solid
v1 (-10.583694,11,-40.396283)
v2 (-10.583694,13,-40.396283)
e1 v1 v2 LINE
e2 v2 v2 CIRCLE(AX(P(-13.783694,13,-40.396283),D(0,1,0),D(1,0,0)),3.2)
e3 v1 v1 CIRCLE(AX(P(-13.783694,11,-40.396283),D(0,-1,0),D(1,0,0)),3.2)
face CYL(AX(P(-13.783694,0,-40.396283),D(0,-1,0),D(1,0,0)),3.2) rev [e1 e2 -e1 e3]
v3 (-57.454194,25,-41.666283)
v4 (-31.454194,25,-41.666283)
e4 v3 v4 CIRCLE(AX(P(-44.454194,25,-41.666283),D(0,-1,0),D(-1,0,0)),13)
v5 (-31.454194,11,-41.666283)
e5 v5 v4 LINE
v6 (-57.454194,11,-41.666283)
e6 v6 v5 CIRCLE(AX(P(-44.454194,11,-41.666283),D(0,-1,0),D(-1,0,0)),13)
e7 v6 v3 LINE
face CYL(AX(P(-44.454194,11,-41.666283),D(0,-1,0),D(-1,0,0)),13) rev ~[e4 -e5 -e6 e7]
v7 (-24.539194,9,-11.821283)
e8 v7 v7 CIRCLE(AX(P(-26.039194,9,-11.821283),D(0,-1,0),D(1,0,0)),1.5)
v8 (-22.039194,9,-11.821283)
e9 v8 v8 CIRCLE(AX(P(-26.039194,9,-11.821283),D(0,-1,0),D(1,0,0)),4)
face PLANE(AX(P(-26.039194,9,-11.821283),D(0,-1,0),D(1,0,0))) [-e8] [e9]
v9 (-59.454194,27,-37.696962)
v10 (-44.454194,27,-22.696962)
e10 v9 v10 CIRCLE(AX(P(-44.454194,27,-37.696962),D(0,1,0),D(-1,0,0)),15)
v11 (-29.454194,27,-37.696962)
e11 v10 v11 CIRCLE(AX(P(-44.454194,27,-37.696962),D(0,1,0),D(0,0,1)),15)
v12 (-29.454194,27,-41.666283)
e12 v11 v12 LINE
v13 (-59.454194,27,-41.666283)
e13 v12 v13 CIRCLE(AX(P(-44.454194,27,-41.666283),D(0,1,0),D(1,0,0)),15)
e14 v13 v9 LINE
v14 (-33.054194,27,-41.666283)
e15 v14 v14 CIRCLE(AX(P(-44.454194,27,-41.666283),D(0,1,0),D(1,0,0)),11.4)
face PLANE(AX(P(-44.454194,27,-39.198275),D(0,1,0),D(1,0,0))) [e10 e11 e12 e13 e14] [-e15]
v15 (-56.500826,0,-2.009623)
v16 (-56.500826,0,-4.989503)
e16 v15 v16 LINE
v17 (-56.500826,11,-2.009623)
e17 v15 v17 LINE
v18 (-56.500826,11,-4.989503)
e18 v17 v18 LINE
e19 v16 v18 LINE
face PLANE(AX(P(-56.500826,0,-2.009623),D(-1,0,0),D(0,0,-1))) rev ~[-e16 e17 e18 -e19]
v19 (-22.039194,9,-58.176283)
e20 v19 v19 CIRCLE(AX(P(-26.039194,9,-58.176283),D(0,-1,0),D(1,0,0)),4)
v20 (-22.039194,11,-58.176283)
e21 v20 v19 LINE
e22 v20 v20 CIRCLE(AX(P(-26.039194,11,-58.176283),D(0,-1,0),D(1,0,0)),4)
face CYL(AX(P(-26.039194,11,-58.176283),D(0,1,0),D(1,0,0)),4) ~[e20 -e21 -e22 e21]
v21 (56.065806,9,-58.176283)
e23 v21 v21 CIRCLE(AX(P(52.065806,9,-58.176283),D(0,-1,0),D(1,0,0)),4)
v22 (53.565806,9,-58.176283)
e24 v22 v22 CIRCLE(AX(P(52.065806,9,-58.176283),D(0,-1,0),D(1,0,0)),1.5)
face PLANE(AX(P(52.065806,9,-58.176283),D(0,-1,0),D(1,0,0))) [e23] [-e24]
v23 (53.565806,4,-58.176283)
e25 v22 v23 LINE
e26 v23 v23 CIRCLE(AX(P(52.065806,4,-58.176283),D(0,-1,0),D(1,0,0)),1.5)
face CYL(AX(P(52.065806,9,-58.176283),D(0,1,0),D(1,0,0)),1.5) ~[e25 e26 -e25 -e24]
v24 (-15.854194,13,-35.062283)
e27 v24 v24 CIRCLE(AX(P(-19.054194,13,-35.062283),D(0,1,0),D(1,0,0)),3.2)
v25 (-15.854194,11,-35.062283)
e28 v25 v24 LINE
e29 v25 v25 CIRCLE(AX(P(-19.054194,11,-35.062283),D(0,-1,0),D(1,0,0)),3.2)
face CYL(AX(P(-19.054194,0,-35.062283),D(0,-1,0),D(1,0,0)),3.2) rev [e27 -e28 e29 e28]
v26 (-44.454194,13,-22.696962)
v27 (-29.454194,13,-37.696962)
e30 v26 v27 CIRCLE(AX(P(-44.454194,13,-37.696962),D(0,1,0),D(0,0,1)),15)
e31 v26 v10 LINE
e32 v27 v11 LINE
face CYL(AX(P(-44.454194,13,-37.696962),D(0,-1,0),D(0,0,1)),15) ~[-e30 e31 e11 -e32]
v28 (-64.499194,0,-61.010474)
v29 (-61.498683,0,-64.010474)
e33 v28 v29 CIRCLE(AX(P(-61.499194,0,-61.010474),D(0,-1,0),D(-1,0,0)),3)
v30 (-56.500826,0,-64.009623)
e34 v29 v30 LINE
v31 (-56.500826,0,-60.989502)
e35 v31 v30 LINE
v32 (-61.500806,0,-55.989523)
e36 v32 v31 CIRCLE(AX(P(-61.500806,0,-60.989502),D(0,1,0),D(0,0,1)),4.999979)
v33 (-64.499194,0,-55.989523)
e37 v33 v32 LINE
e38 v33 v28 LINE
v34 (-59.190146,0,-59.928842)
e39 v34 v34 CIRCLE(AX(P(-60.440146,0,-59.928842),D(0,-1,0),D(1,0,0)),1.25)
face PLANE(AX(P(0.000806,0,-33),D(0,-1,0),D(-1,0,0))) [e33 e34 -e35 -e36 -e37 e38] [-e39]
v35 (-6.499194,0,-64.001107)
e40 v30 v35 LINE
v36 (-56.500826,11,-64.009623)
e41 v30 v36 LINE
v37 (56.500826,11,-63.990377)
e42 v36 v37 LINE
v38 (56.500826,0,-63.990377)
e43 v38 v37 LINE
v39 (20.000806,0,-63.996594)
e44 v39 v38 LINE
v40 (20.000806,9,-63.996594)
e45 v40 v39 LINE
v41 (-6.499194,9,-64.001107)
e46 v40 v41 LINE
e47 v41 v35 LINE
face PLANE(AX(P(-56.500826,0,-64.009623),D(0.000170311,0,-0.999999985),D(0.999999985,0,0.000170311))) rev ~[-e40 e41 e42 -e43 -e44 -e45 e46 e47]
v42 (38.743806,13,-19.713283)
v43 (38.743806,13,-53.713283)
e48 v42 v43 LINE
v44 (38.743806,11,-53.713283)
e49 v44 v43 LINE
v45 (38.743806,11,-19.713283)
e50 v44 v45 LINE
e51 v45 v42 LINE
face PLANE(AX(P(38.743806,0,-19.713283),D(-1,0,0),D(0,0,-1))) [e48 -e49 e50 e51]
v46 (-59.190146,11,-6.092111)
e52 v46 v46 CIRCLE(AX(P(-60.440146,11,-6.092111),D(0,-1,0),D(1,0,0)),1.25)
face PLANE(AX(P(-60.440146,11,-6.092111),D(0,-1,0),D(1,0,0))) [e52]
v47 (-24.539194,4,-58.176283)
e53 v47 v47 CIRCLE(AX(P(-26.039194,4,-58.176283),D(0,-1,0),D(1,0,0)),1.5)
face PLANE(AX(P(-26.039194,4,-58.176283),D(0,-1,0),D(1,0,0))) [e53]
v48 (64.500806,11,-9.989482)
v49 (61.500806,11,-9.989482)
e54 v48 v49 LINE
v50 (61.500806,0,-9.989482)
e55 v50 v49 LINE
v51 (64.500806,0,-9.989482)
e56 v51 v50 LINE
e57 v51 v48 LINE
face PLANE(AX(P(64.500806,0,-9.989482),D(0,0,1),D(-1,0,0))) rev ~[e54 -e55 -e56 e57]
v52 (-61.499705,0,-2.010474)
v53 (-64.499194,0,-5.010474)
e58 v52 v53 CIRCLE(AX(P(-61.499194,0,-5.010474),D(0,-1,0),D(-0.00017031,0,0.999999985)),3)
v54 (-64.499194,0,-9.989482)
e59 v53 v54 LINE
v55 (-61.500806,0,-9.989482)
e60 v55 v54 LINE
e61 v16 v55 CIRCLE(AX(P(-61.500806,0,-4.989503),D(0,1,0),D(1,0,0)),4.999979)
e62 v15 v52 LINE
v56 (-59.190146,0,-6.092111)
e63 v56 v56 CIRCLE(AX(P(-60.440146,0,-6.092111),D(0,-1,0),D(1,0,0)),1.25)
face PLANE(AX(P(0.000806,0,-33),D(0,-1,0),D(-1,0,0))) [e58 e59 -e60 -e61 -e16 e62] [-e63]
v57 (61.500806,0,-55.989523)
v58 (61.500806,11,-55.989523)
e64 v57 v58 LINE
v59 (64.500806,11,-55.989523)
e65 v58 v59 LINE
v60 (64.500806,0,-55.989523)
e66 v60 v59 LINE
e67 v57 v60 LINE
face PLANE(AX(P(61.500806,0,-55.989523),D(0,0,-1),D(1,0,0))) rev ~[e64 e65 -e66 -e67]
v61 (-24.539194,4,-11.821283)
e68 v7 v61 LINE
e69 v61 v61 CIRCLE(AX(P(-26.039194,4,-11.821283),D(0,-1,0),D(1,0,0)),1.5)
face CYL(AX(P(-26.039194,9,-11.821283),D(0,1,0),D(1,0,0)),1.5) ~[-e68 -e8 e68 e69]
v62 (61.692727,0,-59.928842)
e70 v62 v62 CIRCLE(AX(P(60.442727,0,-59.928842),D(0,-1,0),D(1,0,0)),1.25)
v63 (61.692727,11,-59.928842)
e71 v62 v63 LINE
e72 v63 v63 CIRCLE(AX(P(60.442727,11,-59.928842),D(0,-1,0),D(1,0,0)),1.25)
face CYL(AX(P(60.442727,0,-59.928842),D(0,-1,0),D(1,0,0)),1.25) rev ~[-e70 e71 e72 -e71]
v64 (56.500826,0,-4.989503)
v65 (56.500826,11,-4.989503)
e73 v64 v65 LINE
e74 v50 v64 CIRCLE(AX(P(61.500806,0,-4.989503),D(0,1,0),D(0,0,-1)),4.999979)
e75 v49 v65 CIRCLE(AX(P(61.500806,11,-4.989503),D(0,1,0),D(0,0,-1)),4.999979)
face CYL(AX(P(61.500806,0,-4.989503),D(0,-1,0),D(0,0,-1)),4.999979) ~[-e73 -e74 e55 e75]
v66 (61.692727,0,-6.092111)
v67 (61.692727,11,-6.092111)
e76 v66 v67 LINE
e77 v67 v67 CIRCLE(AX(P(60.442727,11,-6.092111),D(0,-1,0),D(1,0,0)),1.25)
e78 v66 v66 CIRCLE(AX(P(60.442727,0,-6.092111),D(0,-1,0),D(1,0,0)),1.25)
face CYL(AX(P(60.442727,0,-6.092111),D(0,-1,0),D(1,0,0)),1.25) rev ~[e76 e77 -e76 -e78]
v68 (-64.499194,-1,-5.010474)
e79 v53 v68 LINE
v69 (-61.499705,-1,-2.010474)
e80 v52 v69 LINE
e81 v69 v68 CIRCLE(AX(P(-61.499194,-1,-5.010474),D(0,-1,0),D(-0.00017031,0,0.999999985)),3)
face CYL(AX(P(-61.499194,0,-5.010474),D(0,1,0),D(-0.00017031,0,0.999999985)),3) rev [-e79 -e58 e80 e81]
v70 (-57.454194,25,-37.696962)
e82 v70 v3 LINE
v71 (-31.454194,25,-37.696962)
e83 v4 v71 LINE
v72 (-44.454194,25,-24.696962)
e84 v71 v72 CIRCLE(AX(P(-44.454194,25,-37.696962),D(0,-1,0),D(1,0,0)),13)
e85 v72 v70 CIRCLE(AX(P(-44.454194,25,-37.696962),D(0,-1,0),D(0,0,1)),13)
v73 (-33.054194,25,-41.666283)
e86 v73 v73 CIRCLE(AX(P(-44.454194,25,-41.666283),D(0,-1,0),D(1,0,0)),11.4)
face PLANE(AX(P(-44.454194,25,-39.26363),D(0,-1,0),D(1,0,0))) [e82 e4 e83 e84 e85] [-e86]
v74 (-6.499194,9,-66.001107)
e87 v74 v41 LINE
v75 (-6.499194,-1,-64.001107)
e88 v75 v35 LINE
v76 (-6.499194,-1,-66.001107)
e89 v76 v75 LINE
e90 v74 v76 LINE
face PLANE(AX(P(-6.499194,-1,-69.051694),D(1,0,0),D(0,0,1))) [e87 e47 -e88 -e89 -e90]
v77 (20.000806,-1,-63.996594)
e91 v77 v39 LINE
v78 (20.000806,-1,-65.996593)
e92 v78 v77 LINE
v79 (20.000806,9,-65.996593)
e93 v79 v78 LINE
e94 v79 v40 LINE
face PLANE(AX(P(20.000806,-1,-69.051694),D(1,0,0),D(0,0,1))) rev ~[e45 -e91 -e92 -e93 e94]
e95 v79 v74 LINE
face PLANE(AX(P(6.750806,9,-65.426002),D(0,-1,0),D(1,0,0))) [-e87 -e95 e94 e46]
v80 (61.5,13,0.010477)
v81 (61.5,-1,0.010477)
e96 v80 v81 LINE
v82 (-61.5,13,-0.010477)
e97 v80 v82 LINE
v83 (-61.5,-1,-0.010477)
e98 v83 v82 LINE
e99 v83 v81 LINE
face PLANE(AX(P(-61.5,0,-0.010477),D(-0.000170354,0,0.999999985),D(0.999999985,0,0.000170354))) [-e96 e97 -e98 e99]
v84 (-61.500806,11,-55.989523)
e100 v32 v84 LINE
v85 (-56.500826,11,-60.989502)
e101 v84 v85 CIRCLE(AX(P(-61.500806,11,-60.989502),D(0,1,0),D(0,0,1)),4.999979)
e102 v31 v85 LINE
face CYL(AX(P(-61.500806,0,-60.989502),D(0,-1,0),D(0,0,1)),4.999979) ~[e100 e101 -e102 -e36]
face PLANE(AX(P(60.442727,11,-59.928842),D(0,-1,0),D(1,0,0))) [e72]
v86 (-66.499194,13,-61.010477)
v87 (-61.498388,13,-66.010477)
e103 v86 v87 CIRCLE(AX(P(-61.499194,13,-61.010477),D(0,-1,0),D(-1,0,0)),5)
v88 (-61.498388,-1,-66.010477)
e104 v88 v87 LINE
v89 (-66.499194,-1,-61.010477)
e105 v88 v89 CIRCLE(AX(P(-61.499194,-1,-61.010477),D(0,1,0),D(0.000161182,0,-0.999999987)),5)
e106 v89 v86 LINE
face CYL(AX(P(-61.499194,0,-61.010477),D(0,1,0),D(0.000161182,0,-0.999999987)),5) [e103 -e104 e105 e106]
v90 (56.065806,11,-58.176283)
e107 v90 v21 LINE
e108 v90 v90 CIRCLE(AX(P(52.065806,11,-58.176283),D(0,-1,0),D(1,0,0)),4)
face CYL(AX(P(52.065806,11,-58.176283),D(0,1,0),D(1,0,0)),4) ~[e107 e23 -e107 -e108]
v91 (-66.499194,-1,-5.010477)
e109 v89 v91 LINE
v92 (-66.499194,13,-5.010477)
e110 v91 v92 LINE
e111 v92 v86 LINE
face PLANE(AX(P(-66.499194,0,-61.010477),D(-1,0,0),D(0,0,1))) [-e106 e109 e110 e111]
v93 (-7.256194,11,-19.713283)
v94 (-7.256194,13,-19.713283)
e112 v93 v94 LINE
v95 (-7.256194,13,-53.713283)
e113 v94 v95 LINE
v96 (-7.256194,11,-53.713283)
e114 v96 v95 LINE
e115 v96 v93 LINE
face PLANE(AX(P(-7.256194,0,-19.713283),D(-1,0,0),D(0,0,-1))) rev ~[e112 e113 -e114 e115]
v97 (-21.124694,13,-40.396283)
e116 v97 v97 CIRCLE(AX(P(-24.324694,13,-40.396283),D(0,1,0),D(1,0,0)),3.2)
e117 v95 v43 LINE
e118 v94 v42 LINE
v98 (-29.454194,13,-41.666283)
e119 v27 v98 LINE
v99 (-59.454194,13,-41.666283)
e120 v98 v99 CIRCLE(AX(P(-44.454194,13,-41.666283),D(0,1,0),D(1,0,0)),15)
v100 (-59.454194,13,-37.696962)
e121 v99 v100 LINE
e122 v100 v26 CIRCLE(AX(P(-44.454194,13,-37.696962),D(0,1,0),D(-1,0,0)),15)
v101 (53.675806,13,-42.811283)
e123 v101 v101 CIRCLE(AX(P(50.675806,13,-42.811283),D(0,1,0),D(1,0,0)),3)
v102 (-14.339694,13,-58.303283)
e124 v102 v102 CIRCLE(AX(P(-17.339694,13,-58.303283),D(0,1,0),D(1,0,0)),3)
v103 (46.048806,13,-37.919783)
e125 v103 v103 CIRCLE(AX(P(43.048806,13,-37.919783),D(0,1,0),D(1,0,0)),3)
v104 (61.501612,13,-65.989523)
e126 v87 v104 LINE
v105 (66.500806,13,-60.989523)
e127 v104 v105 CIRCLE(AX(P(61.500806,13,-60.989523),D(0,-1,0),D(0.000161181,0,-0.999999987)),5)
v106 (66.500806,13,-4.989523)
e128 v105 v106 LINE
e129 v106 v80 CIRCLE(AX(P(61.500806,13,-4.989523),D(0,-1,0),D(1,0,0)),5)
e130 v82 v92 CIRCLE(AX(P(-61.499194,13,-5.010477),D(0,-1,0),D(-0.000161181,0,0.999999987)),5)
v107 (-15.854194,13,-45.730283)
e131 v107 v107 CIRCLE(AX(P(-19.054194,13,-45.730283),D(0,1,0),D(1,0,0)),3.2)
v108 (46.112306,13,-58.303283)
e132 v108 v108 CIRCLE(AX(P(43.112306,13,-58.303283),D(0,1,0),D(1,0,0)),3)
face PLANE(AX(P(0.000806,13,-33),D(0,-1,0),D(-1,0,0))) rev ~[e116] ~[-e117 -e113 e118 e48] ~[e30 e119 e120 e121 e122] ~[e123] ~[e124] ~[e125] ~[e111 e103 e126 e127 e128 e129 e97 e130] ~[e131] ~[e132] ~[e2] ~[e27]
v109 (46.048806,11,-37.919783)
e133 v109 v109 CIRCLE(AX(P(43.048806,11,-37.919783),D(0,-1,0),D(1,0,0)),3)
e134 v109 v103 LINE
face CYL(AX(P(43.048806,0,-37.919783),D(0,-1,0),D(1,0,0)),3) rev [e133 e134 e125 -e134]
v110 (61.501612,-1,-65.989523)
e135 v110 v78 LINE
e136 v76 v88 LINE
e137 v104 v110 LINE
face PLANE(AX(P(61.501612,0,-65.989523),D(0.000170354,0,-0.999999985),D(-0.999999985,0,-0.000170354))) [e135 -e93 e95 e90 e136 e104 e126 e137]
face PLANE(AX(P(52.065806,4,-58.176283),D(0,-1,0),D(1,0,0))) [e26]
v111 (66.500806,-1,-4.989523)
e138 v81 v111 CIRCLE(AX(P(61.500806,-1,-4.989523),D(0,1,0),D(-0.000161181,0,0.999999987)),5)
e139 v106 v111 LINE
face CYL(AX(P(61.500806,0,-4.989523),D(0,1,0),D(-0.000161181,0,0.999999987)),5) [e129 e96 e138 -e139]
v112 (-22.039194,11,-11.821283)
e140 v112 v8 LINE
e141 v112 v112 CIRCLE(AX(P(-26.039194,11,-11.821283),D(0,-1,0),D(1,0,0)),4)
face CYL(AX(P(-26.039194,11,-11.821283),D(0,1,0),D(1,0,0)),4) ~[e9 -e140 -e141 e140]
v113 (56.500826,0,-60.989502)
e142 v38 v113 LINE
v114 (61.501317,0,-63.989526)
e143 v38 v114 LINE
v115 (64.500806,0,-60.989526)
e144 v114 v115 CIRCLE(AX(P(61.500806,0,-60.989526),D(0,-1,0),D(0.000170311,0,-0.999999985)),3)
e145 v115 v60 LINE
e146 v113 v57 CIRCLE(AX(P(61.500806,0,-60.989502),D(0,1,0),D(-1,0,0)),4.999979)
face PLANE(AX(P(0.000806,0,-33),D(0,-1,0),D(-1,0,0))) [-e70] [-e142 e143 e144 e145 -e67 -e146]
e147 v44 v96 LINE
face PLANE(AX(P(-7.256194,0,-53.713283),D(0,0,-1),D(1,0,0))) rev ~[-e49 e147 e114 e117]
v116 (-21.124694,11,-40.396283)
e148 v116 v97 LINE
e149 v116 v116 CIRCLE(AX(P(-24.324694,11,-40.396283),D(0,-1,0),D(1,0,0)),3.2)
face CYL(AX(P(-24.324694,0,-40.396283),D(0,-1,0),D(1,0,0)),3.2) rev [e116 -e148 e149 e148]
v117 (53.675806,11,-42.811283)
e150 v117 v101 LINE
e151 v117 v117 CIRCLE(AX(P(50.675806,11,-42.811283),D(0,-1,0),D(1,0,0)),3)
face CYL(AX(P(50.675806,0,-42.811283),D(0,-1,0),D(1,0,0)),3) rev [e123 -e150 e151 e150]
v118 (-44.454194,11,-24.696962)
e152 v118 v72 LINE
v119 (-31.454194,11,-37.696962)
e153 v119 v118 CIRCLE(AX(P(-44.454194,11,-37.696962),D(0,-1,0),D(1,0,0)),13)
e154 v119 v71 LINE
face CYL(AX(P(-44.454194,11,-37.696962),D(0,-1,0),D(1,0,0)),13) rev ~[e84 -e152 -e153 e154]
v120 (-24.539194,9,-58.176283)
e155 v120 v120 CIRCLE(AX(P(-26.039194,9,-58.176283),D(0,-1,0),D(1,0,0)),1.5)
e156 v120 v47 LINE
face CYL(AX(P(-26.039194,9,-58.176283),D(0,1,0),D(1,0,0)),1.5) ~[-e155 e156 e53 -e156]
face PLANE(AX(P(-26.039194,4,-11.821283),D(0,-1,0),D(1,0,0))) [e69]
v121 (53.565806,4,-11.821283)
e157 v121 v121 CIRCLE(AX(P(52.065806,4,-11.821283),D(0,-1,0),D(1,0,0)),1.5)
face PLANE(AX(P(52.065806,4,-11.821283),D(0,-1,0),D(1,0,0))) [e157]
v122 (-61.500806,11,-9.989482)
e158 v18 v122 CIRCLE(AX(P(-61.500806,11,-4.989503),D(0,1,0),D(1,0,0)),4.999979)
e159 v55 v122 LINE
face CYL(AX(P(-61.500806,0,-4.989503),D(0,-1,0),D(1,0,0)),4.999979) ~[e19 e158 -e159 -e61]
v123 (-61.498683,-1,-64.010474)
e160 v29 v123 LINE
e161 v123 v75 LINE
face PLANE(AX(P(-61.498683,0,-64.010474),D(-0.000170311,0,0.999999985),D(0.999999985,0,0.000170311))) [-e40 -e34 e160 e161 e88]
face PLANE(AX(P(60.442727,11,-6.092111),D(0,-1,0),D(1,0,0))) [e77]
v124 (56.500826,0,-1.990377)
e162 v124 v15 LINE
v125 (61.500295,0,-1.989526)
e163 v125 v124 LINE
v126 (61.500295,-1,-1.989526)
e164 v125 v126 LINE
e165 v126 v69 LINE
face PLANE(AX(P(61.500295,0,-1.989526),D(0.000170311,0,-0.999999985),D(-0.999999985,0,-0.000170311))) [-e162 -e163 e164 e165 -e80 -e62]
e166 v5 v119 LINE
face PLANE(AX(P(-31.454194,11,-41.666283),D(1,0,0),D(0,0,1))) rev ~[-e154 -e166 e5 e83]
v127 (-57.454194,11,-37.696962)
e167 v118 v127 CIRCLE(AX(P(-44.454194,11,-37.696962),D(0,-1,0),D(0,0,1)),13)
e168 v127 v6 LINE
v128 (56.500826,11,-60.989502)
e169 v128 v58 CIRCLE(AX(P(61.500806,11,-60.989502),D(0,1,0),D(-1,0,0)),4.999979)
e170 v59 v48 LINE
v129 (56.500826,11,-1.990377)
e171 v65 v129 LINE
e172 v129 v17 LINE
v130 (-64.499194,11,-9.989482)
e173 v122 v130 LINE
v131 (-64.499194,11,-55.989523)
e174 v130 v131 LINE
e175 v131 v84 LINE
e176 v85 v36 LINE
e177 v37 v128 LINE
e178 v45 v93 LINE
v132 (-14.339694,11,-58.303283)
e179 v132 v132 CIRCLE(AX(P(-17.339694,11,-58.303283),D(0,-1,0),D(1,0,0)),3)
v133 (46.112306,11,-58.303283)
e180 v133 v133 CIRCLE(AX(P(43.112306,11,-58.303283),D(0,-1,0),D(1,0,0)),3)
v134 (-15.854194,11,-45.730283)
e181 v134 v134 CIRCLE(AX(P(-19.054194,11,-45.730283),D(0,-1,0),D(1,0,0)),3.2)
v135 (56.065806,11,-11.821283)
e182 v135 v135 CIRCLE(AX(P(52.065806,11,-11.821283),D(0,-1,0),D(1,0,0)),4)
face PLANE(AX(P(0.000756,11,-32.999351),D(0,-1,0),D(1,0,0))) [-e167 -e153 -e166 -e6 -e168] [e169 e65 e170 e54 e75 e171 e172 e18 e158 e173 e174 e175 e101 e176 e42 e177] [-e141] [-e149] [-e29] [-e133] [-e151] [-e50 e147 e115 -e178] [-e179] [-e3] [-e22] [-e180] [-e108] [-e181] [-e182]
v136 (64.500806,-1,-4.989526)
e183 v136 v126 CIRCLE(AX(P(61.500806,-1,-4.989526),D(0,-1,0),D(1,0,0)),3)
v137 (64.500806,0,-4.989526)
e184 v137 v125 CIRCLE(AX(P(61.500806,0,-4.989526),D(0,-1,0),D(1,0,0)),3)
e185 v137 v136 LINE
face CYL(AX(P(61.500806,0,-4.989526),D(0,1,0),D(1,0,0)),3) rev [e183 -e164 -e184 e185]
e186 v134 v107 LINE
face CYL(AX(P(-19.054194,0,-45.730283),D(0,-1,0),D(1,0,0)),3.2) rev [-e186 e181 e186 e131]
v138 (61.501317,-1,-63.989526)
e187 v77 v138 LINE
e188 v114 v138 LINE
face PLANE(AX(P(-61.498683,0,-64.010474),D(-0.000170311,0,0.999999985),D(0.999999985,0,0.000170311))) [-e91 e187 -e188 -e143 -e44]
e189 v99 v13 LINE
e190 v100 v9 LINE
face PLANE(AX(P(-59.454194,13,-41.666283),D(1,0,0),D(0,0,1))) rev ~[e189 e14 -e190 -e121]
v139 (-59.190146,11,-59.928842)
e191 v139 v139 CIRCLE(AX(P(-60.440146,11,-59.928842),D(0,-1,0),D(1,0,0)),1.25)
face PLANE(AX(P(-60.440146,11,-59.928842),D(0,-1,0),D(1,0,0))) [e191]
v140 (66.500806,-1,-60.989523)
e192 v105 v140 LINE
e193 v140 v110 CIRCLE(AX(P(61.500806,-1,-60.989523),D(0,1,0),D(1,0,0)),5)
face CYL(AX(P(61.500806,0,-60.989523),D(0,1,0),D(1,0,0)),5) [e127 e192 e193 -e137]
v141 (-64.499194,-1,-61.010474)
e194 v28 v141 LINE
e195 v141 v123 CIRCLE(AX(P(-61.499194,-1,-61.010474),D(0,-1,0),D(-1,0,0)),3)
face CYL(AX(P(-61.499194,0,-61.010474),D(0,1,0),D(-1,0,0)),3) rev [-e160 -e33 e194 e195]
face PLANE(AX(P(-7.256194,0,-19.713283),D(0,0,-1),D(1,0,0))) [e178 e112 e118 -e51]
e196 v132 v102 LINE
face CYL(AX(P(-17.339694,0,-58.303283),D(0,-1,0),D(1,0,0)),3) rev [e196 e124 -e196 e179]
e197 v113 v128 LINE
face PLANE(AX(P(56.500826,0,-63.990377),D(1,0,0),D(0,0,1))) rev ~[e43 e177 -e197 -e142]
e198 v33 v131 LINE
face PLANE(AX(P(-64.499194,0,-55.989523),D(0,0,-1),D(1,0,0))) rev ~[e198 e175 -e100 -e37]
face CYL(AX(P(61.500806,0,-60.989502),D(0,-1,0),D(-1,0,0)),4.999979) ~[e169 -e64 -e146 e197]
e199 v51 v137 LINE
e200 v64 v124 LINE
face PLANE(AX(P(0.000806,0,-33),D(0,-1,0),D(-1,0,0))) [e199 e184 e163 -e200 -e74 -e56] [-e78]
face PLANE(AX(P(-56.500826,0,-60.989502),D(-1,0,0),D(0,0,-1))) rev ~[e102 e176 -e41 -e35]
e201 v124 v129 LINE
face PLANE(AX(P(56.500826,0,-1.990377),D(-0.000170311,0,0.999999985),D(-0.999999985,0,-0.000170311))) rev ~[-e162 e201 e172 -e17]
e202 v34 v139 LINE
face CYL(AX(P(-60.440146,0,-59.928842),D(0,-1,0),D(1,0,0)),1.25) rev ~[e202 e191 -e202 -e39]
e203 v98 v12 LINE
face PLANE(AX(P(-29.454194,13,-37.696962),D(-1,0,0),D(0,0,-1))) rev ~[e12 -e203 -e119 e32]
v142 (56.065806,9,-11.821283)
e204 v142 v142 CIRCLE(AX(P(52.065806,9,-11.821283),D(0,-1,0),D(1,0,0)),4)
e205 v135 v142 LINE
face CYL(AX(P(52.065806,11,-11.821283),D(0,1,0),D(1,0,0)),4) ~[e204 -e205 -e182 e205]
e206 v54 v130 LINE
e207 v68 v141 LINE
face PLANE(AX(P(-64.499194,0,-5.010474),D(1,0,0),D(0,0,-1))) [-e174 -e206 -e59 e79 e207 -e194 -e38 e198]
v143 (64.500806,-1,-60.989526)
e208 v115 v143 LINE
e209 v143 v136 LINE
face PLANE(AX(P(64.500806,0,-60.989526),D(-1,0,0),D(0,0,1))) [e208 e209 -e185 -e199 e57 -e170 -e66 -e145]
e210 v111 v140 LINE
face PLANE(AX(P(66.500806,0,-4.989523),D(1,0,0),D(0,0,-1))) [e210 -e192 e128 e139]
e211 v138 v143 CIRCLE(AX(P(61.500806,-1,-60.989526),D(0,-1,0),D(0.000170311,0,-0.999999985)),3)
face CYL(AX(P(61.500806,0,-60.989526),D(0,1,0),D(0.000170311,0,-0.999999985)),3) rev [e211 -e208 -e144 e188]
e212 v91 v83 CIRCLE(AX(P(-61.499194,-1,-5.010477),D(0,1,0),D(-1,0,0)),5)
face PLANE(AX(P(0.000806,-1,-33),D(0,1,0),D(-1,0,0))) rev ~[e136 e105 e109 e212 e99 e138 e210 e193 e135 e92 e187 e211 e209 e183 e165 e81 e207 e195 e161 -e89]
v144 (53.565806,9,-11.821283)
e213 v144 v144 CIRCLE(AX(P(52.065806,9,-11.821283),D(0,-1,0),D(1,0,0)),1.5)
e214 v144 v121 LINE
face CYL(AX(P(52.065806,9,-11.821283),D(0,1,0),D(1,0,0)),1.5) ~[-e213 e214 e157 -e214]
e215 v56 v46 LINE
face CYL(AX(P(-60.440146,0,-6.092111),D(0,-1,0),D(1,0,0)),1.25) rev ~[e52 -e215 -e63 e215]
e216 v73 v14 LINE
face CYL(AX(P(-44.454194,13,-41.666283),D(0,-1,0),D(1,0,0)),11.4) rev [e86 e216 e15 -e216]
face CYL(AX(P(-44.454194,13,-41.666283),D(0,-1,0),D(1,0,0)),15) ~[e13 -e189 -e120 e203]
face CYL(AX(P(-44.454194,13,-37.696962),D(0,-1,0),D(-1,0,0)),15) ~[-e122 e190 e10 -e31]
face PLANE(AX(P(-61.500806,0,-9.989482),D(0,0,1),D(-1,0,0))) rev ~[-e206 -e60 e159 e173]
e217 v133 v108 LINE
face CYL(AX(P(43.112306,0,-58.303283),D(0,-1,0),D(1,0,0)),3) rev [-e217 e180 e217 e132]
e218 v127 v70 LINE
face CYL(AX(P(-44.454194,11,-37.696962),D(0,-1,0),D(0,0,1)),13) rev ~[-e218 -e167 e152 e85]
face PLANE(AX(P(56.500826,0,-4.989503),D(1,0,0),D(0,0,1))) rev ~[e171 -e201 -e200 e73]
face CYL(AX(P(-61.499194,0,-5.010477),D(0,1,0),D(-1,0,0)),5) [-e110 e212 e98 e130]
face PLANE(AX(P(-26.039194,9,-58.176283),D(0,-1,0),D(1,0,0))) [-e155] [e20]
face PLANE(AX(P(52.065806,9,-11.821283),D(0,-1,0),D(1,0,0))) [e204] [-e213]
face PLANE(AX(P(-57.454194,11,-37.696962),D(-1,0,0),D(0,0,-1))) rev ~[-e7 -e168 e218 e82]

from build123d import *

# Parameters (mm, degrees)
SKETCH_1_R          = 3.2
SKETCH_1_R_2        = 3
SKETCH_1_W          = 46
SKETCH_1_H          = 34
EXTRUDE_1_DEPTH     = 13
SKETCH_2_R          = 11.4
EXTRUDE_2_DEPTH     = 14
SKETCH_3_R          = 1.25
CUT_EXTRUDE_1_DEPTH = 11
CUT_EXTRUDE_2_DEPTH = 14
SKETCH_5_R          = 4
EXTRUDE_3_DEPTH     = 2
SKETCH_6_R          = 1.5
EXTRUDE_4_DEPTH     = 5
EXTRUDE_5_DEPTH     = 1
SKETCH_9_W          = 26.5
SKETCH_9_H          = 7.251384336
CUT_EXTRUDE_4_DEPTH = 10


with BuildPart() as part:
    # 스케치1 → 보스-돌출1 (new body)
    with BuildSketch(Plane(origin=(0, 0, 0), x_dir=(1, 0, 0), z_dir=(0, 1, 0))):
        with BuildLine():
            Line((-61.498388188, 66.010476517), (61.501611812, 65.989522963))
            ThreePointArc((61.501611812, 65.989522963), (65.036624731, 64.524771992), (66.500805906, 60.989523028))
            Line((66.500805906, 60.989523028), (66.500805906, 4.989523158))
            ThreePointArc((66.500805906, 4.989523158), (65.03605487, 1.453704333), (61.5, -0.010476777))
            Line((61.5, -0.010476777), (-61.5, 0.010476777))
            ThreePointArc((-61.5, 0.010476777), (-65.035012919, 1.475227749), (-66.499194094, 5.010476712))
            Line((-66.499194094, 5.010476712), (-66.499194094, 61.010476582))
            ThreePointArc((-66.499194094, 61.010476582), (-65.034443058, 64.546295408), (-61.498388188, 66.010476517))
        make_face()
        with Locations((-19.054194094, 45.730282553)):
            Circle(SKETCH_1_R, mode=Mode.SUBTRACT)
        with Locations((-24.324694094, 40.396282553)):
            Circle(SKETCH_1_R, mode=Mode.SUBTRACT)
        with Locations((-13.783694094, 40.396282553)):
            Circle(SKETCH_1_R, mode=Mode.SUBTRACT)
        with Locations((-19.054194094, 35.062282553)):
            Circle(SKETCH_1_R, mode=Mode.SUBTRACT)
        with Locations((-17.339694094, 58.303282553)):
            Circle(SKETCH_1_R_2, mode=Mode.SUBTRACT)
        with Locations((43.112305906, 58.303282553)):
            Circle(SKETCH_1_R_2, mode=Mode.SUBTRACT)
        with Locations((50.675805906, 42.811282553)):
            Circle(SKETCH_1_R_2, mode=Mode.SUBTRACT)
        with Locations((43.048805906, 37.919782553)):
            Circle(SKETCH_1_R_2, mode=Mode.SUBTRACT)
        with Locations((15.743805906, 36.713282553)):
            Rectangle(SKETCH_1_W, SKETCH_1_H, mode=Mode.SUBTRACT)
    extrude(amount=EXTRUDE_1_DEPTH)

    # 스케치2 → 보스-돌출2 (add)
    with BuildSketch(Plane(origin=(0, 13, 0), x_dir=(1, 0, 0), z_dir=(0, 1, 0))):
        with BuildLine():
            ThreePointArc((-59.454194094, 37.696962121), (-55.060795812, 27.090360404), (-44.454194094, 22.696962121))
            ThreePointArc((-44.454194094, 22.696962121), (-33.847592376, 27.090360404), (-29.454194094, 37.696962121))
            Line((-29.454194094, 37.696962121), (-29.454194094, 41.666282553))
            ThreePointArc((-29.454194094, 41.666282553), (-44.454194094, 56.666282553), (-59.454194094, 41.666282553))
            Line((-59.454194094, 41.666282553), (-59.454194094, 37.696962121))
        make_face()
        with Locations((-44.454194094, 41.666282553)):
            Circle(SKETCH_2_R, mode=Mode.SUBTRACT)
    extrude(amount=EXTRUDE_2_DEPTH)

    # 스케치3 → 컷-돌출1 (cut)
    with BuildSketch(Plane.XZ):
        with Locations((-60.440145734, -59.928842317)):
            Circle(SKETCH_3_R)
        with Locations((-60.440145734, -6.092110978)):
            Circle(SKETCH_3_R)
        with Locations((60.442726529, -59.928842317)):
            Circle(SKETCH_3_R)
        with Locations((60.442726529, -6.092110978)):
            Circle(SKETCH_3_R)
        with BuildLine():
            Line((-56.500826452, -64.009622683), (56.500826452, -63.990377307))
            Line((56.500826452, -63.990377307), (56.500826452, -60.989502488))
            ThreePointArc((56.500826452, -60.989502488), (57.965286528, -57.453983111), (61.500805906, -55.989523034))
            Line((61.500805906, -55.989523034), (64.500805906, -55.989523034))
            Line((64.500805906, -55.989523034), (64.500805906, -9.989482066))
            Line((64.500805906, -9.989482066), (61.500805906, -9.989482066))
            ThreePointArc((61.500805906, -9.989482066), (57.965286528, -8.52502199), (56.500826452, -4.989502612))
            Line((56.500826452, -4.989502612), (56.500826452, -1.990377339))
            Line((56.500826452, -1.990377339), (-56.500826452, -2.009622715))
            Line((-56.500826452, -2.009622715), (-56.500826452, -4.989502612))
            ThreePointArc((-56.500826452, -4.989502612), (-57.965286528, -8.52502199), (-61.500805906, -9.989482066))
            Line((-61.500805906, -9.989482066), (-64.499194094, -9.989482066))
            Line((-64.499194094, -9.989482066), (-64.499194094, -55.989523034))
            Line((-64.499194094, -55.989523034), (-61.500805906, -55.989523034))
            ThreePointArc((-61.500805906, -55.989523034), (-57.965286528, -57.453983111), (-56.500826452, -60.989502488))
            Line((-56.500826452, -60.989502488), (-56.500826452, -64.009622683))
        make_face()
    extrude(amount=-CUT_EXTRUDE_1_DEPTH, mode=Mode.SUBTRACT)

    # 스케치4 → 컷-돌출2 (cut)
    with BuildSketch(Plane.XZ.offset(-11)):
        with BuildLine():
            Line((-31.454194094, -41.666282553), (-31.454194094, -37.696962121))
            ThreePointArc((-31.454194094, -37.696962121), (-35.261805939, -28.504573966), (-44.454194094, -24.696962121))
            ThreePointArc((-44.454194094, -24.696962121), (-53.646582249, -28.504573966), (-57.454194094, -37.696962121))
            Line((-57.454194094, -37.696962121), (-57.454194094, -41.666282553))
            ThreePointArc((-57.454194094, -41.666282553), (-44.454194094, -54.666282553), (-31.454194094, -41.666282553))
        make_face()
    extrude(amount=-CUT_EXTRUDE_2_DEPTH, mode=Mode.SUBTRACT)

    # 스케치5 → 보스-돌출3 (add)
    with BuildSketch(Plane.XZ.offset(-11)):
        with Locations((-26.039194094, -58.176282553)):
            Circle(SKETCH_5_R)
        with Locations((52.065805906, -58.176282553)):
            Circle(SKETCH_5_R)
        with Locations((-26.039194094, -11.821282553)):
            Circle(SKETCH_5_R)
        with Locations((52.065805906, -11.821282553)):
            Circle(SKETCH_5_R)
    extrude(amount=EXTRUDE_3_DEPTH)

    # 스케치6 → 보스-돌출4 (add)
    with BuildSketch(Plane.XZ.offset(-9)):
        with Locations((-26.039194094, -58.176282553)):
            Circle(SKETCH_6_R)
        with Locations((52.065805906, -58.176282553)):
            Circle(SKETCH_6_R)
        with Locations((52.065805906, -11.821282553)):
            Circle(SKETCH_6_R)
        with Locations((-26.039194094, -11.821282553)):
            Circle(SKETCH_6_R)
    extrude(amount=EXTRUDE_4_DEPTH)

    # 스케치8 → 보스-돌출5 (add)
    with BuildSketch(Plane.XZ):
        with BuildLine():
            Line((61.501611812, -65.989522963), (-61.498388188, -66.010476517))
            ThreePointArc((-61.498388188, -66.010476517), (-65.034443058, -64.546295408), (-66.499194094, -61.010476582))
            Line((-66.499194094, -61.010476582), (-66.499194094, -5.010476712))
            ThreePointArc((-66.499194094, -5.010476712), (-65.035012919, -1.475227749), (-61.5, -0.010476777))
            Line((-61.5, -0.010476777), (61.5, 0.010476777))
            ThreePointArc((61.5, 0.010476777), (65.03605487, -1.453704333), (66.500805906, -4.989523158))
            Line((66.500805906, -4.989523158), (66.500805906, -60.989523028))
            ThreePointArc((66.500805906, -60.989523028), (65.036624731, -64.524771992), (61.501611812, -65.989522963))
        make_face()
        with BuildLine():
            Line((-64.499194094, -5.010474033), (-64.499194094, -61.010473914))
            ThreePointArc((-64.499194094, -61.010473914), (-63.620333788, -63.131974892), (-61.498683162, -64.010473871))
            Line((-61.498683162, -64.010473871), (61.501316838, -63.989525671))
            ThreePointArc((61.501316838, -63.989525671), (63.622306883, -63.110665409), (64.500805906, -60.989525714))
            Line((64.500805906, -60.989525714), (64.500805906, -4.989525834))
            ThreePointArc((64.500805906, -4.989525834), (63.6219456, -2.868024856), (61.500294974, -1.989525877))
            Line((61.500294974, -1.989525877), (-61.499705026, -2.010474077))
            ThreePointArc((-61.499705026, -2.010474077), (-63.620695072, -2.889334339), (-64.499194094, -5.010474033))
        make_face(mode=Mode.SUBTRACT)
    extrude(amount=EXTRUDE_5_DEPTH)

    # 스케치9 → 컷-돌출4 (cut)
    with BuildSketch(Plane.XZ.offset(1)):
        with Locations((6.750805906, -65.426001526)):
            Rectangle(SKETCH_9_W, SKETCH_9_H)
    extrude(amount=-CUT_EXTRUDE_4_DEPTH, mode=Mode.SUBTRACT)


solid = part.part
